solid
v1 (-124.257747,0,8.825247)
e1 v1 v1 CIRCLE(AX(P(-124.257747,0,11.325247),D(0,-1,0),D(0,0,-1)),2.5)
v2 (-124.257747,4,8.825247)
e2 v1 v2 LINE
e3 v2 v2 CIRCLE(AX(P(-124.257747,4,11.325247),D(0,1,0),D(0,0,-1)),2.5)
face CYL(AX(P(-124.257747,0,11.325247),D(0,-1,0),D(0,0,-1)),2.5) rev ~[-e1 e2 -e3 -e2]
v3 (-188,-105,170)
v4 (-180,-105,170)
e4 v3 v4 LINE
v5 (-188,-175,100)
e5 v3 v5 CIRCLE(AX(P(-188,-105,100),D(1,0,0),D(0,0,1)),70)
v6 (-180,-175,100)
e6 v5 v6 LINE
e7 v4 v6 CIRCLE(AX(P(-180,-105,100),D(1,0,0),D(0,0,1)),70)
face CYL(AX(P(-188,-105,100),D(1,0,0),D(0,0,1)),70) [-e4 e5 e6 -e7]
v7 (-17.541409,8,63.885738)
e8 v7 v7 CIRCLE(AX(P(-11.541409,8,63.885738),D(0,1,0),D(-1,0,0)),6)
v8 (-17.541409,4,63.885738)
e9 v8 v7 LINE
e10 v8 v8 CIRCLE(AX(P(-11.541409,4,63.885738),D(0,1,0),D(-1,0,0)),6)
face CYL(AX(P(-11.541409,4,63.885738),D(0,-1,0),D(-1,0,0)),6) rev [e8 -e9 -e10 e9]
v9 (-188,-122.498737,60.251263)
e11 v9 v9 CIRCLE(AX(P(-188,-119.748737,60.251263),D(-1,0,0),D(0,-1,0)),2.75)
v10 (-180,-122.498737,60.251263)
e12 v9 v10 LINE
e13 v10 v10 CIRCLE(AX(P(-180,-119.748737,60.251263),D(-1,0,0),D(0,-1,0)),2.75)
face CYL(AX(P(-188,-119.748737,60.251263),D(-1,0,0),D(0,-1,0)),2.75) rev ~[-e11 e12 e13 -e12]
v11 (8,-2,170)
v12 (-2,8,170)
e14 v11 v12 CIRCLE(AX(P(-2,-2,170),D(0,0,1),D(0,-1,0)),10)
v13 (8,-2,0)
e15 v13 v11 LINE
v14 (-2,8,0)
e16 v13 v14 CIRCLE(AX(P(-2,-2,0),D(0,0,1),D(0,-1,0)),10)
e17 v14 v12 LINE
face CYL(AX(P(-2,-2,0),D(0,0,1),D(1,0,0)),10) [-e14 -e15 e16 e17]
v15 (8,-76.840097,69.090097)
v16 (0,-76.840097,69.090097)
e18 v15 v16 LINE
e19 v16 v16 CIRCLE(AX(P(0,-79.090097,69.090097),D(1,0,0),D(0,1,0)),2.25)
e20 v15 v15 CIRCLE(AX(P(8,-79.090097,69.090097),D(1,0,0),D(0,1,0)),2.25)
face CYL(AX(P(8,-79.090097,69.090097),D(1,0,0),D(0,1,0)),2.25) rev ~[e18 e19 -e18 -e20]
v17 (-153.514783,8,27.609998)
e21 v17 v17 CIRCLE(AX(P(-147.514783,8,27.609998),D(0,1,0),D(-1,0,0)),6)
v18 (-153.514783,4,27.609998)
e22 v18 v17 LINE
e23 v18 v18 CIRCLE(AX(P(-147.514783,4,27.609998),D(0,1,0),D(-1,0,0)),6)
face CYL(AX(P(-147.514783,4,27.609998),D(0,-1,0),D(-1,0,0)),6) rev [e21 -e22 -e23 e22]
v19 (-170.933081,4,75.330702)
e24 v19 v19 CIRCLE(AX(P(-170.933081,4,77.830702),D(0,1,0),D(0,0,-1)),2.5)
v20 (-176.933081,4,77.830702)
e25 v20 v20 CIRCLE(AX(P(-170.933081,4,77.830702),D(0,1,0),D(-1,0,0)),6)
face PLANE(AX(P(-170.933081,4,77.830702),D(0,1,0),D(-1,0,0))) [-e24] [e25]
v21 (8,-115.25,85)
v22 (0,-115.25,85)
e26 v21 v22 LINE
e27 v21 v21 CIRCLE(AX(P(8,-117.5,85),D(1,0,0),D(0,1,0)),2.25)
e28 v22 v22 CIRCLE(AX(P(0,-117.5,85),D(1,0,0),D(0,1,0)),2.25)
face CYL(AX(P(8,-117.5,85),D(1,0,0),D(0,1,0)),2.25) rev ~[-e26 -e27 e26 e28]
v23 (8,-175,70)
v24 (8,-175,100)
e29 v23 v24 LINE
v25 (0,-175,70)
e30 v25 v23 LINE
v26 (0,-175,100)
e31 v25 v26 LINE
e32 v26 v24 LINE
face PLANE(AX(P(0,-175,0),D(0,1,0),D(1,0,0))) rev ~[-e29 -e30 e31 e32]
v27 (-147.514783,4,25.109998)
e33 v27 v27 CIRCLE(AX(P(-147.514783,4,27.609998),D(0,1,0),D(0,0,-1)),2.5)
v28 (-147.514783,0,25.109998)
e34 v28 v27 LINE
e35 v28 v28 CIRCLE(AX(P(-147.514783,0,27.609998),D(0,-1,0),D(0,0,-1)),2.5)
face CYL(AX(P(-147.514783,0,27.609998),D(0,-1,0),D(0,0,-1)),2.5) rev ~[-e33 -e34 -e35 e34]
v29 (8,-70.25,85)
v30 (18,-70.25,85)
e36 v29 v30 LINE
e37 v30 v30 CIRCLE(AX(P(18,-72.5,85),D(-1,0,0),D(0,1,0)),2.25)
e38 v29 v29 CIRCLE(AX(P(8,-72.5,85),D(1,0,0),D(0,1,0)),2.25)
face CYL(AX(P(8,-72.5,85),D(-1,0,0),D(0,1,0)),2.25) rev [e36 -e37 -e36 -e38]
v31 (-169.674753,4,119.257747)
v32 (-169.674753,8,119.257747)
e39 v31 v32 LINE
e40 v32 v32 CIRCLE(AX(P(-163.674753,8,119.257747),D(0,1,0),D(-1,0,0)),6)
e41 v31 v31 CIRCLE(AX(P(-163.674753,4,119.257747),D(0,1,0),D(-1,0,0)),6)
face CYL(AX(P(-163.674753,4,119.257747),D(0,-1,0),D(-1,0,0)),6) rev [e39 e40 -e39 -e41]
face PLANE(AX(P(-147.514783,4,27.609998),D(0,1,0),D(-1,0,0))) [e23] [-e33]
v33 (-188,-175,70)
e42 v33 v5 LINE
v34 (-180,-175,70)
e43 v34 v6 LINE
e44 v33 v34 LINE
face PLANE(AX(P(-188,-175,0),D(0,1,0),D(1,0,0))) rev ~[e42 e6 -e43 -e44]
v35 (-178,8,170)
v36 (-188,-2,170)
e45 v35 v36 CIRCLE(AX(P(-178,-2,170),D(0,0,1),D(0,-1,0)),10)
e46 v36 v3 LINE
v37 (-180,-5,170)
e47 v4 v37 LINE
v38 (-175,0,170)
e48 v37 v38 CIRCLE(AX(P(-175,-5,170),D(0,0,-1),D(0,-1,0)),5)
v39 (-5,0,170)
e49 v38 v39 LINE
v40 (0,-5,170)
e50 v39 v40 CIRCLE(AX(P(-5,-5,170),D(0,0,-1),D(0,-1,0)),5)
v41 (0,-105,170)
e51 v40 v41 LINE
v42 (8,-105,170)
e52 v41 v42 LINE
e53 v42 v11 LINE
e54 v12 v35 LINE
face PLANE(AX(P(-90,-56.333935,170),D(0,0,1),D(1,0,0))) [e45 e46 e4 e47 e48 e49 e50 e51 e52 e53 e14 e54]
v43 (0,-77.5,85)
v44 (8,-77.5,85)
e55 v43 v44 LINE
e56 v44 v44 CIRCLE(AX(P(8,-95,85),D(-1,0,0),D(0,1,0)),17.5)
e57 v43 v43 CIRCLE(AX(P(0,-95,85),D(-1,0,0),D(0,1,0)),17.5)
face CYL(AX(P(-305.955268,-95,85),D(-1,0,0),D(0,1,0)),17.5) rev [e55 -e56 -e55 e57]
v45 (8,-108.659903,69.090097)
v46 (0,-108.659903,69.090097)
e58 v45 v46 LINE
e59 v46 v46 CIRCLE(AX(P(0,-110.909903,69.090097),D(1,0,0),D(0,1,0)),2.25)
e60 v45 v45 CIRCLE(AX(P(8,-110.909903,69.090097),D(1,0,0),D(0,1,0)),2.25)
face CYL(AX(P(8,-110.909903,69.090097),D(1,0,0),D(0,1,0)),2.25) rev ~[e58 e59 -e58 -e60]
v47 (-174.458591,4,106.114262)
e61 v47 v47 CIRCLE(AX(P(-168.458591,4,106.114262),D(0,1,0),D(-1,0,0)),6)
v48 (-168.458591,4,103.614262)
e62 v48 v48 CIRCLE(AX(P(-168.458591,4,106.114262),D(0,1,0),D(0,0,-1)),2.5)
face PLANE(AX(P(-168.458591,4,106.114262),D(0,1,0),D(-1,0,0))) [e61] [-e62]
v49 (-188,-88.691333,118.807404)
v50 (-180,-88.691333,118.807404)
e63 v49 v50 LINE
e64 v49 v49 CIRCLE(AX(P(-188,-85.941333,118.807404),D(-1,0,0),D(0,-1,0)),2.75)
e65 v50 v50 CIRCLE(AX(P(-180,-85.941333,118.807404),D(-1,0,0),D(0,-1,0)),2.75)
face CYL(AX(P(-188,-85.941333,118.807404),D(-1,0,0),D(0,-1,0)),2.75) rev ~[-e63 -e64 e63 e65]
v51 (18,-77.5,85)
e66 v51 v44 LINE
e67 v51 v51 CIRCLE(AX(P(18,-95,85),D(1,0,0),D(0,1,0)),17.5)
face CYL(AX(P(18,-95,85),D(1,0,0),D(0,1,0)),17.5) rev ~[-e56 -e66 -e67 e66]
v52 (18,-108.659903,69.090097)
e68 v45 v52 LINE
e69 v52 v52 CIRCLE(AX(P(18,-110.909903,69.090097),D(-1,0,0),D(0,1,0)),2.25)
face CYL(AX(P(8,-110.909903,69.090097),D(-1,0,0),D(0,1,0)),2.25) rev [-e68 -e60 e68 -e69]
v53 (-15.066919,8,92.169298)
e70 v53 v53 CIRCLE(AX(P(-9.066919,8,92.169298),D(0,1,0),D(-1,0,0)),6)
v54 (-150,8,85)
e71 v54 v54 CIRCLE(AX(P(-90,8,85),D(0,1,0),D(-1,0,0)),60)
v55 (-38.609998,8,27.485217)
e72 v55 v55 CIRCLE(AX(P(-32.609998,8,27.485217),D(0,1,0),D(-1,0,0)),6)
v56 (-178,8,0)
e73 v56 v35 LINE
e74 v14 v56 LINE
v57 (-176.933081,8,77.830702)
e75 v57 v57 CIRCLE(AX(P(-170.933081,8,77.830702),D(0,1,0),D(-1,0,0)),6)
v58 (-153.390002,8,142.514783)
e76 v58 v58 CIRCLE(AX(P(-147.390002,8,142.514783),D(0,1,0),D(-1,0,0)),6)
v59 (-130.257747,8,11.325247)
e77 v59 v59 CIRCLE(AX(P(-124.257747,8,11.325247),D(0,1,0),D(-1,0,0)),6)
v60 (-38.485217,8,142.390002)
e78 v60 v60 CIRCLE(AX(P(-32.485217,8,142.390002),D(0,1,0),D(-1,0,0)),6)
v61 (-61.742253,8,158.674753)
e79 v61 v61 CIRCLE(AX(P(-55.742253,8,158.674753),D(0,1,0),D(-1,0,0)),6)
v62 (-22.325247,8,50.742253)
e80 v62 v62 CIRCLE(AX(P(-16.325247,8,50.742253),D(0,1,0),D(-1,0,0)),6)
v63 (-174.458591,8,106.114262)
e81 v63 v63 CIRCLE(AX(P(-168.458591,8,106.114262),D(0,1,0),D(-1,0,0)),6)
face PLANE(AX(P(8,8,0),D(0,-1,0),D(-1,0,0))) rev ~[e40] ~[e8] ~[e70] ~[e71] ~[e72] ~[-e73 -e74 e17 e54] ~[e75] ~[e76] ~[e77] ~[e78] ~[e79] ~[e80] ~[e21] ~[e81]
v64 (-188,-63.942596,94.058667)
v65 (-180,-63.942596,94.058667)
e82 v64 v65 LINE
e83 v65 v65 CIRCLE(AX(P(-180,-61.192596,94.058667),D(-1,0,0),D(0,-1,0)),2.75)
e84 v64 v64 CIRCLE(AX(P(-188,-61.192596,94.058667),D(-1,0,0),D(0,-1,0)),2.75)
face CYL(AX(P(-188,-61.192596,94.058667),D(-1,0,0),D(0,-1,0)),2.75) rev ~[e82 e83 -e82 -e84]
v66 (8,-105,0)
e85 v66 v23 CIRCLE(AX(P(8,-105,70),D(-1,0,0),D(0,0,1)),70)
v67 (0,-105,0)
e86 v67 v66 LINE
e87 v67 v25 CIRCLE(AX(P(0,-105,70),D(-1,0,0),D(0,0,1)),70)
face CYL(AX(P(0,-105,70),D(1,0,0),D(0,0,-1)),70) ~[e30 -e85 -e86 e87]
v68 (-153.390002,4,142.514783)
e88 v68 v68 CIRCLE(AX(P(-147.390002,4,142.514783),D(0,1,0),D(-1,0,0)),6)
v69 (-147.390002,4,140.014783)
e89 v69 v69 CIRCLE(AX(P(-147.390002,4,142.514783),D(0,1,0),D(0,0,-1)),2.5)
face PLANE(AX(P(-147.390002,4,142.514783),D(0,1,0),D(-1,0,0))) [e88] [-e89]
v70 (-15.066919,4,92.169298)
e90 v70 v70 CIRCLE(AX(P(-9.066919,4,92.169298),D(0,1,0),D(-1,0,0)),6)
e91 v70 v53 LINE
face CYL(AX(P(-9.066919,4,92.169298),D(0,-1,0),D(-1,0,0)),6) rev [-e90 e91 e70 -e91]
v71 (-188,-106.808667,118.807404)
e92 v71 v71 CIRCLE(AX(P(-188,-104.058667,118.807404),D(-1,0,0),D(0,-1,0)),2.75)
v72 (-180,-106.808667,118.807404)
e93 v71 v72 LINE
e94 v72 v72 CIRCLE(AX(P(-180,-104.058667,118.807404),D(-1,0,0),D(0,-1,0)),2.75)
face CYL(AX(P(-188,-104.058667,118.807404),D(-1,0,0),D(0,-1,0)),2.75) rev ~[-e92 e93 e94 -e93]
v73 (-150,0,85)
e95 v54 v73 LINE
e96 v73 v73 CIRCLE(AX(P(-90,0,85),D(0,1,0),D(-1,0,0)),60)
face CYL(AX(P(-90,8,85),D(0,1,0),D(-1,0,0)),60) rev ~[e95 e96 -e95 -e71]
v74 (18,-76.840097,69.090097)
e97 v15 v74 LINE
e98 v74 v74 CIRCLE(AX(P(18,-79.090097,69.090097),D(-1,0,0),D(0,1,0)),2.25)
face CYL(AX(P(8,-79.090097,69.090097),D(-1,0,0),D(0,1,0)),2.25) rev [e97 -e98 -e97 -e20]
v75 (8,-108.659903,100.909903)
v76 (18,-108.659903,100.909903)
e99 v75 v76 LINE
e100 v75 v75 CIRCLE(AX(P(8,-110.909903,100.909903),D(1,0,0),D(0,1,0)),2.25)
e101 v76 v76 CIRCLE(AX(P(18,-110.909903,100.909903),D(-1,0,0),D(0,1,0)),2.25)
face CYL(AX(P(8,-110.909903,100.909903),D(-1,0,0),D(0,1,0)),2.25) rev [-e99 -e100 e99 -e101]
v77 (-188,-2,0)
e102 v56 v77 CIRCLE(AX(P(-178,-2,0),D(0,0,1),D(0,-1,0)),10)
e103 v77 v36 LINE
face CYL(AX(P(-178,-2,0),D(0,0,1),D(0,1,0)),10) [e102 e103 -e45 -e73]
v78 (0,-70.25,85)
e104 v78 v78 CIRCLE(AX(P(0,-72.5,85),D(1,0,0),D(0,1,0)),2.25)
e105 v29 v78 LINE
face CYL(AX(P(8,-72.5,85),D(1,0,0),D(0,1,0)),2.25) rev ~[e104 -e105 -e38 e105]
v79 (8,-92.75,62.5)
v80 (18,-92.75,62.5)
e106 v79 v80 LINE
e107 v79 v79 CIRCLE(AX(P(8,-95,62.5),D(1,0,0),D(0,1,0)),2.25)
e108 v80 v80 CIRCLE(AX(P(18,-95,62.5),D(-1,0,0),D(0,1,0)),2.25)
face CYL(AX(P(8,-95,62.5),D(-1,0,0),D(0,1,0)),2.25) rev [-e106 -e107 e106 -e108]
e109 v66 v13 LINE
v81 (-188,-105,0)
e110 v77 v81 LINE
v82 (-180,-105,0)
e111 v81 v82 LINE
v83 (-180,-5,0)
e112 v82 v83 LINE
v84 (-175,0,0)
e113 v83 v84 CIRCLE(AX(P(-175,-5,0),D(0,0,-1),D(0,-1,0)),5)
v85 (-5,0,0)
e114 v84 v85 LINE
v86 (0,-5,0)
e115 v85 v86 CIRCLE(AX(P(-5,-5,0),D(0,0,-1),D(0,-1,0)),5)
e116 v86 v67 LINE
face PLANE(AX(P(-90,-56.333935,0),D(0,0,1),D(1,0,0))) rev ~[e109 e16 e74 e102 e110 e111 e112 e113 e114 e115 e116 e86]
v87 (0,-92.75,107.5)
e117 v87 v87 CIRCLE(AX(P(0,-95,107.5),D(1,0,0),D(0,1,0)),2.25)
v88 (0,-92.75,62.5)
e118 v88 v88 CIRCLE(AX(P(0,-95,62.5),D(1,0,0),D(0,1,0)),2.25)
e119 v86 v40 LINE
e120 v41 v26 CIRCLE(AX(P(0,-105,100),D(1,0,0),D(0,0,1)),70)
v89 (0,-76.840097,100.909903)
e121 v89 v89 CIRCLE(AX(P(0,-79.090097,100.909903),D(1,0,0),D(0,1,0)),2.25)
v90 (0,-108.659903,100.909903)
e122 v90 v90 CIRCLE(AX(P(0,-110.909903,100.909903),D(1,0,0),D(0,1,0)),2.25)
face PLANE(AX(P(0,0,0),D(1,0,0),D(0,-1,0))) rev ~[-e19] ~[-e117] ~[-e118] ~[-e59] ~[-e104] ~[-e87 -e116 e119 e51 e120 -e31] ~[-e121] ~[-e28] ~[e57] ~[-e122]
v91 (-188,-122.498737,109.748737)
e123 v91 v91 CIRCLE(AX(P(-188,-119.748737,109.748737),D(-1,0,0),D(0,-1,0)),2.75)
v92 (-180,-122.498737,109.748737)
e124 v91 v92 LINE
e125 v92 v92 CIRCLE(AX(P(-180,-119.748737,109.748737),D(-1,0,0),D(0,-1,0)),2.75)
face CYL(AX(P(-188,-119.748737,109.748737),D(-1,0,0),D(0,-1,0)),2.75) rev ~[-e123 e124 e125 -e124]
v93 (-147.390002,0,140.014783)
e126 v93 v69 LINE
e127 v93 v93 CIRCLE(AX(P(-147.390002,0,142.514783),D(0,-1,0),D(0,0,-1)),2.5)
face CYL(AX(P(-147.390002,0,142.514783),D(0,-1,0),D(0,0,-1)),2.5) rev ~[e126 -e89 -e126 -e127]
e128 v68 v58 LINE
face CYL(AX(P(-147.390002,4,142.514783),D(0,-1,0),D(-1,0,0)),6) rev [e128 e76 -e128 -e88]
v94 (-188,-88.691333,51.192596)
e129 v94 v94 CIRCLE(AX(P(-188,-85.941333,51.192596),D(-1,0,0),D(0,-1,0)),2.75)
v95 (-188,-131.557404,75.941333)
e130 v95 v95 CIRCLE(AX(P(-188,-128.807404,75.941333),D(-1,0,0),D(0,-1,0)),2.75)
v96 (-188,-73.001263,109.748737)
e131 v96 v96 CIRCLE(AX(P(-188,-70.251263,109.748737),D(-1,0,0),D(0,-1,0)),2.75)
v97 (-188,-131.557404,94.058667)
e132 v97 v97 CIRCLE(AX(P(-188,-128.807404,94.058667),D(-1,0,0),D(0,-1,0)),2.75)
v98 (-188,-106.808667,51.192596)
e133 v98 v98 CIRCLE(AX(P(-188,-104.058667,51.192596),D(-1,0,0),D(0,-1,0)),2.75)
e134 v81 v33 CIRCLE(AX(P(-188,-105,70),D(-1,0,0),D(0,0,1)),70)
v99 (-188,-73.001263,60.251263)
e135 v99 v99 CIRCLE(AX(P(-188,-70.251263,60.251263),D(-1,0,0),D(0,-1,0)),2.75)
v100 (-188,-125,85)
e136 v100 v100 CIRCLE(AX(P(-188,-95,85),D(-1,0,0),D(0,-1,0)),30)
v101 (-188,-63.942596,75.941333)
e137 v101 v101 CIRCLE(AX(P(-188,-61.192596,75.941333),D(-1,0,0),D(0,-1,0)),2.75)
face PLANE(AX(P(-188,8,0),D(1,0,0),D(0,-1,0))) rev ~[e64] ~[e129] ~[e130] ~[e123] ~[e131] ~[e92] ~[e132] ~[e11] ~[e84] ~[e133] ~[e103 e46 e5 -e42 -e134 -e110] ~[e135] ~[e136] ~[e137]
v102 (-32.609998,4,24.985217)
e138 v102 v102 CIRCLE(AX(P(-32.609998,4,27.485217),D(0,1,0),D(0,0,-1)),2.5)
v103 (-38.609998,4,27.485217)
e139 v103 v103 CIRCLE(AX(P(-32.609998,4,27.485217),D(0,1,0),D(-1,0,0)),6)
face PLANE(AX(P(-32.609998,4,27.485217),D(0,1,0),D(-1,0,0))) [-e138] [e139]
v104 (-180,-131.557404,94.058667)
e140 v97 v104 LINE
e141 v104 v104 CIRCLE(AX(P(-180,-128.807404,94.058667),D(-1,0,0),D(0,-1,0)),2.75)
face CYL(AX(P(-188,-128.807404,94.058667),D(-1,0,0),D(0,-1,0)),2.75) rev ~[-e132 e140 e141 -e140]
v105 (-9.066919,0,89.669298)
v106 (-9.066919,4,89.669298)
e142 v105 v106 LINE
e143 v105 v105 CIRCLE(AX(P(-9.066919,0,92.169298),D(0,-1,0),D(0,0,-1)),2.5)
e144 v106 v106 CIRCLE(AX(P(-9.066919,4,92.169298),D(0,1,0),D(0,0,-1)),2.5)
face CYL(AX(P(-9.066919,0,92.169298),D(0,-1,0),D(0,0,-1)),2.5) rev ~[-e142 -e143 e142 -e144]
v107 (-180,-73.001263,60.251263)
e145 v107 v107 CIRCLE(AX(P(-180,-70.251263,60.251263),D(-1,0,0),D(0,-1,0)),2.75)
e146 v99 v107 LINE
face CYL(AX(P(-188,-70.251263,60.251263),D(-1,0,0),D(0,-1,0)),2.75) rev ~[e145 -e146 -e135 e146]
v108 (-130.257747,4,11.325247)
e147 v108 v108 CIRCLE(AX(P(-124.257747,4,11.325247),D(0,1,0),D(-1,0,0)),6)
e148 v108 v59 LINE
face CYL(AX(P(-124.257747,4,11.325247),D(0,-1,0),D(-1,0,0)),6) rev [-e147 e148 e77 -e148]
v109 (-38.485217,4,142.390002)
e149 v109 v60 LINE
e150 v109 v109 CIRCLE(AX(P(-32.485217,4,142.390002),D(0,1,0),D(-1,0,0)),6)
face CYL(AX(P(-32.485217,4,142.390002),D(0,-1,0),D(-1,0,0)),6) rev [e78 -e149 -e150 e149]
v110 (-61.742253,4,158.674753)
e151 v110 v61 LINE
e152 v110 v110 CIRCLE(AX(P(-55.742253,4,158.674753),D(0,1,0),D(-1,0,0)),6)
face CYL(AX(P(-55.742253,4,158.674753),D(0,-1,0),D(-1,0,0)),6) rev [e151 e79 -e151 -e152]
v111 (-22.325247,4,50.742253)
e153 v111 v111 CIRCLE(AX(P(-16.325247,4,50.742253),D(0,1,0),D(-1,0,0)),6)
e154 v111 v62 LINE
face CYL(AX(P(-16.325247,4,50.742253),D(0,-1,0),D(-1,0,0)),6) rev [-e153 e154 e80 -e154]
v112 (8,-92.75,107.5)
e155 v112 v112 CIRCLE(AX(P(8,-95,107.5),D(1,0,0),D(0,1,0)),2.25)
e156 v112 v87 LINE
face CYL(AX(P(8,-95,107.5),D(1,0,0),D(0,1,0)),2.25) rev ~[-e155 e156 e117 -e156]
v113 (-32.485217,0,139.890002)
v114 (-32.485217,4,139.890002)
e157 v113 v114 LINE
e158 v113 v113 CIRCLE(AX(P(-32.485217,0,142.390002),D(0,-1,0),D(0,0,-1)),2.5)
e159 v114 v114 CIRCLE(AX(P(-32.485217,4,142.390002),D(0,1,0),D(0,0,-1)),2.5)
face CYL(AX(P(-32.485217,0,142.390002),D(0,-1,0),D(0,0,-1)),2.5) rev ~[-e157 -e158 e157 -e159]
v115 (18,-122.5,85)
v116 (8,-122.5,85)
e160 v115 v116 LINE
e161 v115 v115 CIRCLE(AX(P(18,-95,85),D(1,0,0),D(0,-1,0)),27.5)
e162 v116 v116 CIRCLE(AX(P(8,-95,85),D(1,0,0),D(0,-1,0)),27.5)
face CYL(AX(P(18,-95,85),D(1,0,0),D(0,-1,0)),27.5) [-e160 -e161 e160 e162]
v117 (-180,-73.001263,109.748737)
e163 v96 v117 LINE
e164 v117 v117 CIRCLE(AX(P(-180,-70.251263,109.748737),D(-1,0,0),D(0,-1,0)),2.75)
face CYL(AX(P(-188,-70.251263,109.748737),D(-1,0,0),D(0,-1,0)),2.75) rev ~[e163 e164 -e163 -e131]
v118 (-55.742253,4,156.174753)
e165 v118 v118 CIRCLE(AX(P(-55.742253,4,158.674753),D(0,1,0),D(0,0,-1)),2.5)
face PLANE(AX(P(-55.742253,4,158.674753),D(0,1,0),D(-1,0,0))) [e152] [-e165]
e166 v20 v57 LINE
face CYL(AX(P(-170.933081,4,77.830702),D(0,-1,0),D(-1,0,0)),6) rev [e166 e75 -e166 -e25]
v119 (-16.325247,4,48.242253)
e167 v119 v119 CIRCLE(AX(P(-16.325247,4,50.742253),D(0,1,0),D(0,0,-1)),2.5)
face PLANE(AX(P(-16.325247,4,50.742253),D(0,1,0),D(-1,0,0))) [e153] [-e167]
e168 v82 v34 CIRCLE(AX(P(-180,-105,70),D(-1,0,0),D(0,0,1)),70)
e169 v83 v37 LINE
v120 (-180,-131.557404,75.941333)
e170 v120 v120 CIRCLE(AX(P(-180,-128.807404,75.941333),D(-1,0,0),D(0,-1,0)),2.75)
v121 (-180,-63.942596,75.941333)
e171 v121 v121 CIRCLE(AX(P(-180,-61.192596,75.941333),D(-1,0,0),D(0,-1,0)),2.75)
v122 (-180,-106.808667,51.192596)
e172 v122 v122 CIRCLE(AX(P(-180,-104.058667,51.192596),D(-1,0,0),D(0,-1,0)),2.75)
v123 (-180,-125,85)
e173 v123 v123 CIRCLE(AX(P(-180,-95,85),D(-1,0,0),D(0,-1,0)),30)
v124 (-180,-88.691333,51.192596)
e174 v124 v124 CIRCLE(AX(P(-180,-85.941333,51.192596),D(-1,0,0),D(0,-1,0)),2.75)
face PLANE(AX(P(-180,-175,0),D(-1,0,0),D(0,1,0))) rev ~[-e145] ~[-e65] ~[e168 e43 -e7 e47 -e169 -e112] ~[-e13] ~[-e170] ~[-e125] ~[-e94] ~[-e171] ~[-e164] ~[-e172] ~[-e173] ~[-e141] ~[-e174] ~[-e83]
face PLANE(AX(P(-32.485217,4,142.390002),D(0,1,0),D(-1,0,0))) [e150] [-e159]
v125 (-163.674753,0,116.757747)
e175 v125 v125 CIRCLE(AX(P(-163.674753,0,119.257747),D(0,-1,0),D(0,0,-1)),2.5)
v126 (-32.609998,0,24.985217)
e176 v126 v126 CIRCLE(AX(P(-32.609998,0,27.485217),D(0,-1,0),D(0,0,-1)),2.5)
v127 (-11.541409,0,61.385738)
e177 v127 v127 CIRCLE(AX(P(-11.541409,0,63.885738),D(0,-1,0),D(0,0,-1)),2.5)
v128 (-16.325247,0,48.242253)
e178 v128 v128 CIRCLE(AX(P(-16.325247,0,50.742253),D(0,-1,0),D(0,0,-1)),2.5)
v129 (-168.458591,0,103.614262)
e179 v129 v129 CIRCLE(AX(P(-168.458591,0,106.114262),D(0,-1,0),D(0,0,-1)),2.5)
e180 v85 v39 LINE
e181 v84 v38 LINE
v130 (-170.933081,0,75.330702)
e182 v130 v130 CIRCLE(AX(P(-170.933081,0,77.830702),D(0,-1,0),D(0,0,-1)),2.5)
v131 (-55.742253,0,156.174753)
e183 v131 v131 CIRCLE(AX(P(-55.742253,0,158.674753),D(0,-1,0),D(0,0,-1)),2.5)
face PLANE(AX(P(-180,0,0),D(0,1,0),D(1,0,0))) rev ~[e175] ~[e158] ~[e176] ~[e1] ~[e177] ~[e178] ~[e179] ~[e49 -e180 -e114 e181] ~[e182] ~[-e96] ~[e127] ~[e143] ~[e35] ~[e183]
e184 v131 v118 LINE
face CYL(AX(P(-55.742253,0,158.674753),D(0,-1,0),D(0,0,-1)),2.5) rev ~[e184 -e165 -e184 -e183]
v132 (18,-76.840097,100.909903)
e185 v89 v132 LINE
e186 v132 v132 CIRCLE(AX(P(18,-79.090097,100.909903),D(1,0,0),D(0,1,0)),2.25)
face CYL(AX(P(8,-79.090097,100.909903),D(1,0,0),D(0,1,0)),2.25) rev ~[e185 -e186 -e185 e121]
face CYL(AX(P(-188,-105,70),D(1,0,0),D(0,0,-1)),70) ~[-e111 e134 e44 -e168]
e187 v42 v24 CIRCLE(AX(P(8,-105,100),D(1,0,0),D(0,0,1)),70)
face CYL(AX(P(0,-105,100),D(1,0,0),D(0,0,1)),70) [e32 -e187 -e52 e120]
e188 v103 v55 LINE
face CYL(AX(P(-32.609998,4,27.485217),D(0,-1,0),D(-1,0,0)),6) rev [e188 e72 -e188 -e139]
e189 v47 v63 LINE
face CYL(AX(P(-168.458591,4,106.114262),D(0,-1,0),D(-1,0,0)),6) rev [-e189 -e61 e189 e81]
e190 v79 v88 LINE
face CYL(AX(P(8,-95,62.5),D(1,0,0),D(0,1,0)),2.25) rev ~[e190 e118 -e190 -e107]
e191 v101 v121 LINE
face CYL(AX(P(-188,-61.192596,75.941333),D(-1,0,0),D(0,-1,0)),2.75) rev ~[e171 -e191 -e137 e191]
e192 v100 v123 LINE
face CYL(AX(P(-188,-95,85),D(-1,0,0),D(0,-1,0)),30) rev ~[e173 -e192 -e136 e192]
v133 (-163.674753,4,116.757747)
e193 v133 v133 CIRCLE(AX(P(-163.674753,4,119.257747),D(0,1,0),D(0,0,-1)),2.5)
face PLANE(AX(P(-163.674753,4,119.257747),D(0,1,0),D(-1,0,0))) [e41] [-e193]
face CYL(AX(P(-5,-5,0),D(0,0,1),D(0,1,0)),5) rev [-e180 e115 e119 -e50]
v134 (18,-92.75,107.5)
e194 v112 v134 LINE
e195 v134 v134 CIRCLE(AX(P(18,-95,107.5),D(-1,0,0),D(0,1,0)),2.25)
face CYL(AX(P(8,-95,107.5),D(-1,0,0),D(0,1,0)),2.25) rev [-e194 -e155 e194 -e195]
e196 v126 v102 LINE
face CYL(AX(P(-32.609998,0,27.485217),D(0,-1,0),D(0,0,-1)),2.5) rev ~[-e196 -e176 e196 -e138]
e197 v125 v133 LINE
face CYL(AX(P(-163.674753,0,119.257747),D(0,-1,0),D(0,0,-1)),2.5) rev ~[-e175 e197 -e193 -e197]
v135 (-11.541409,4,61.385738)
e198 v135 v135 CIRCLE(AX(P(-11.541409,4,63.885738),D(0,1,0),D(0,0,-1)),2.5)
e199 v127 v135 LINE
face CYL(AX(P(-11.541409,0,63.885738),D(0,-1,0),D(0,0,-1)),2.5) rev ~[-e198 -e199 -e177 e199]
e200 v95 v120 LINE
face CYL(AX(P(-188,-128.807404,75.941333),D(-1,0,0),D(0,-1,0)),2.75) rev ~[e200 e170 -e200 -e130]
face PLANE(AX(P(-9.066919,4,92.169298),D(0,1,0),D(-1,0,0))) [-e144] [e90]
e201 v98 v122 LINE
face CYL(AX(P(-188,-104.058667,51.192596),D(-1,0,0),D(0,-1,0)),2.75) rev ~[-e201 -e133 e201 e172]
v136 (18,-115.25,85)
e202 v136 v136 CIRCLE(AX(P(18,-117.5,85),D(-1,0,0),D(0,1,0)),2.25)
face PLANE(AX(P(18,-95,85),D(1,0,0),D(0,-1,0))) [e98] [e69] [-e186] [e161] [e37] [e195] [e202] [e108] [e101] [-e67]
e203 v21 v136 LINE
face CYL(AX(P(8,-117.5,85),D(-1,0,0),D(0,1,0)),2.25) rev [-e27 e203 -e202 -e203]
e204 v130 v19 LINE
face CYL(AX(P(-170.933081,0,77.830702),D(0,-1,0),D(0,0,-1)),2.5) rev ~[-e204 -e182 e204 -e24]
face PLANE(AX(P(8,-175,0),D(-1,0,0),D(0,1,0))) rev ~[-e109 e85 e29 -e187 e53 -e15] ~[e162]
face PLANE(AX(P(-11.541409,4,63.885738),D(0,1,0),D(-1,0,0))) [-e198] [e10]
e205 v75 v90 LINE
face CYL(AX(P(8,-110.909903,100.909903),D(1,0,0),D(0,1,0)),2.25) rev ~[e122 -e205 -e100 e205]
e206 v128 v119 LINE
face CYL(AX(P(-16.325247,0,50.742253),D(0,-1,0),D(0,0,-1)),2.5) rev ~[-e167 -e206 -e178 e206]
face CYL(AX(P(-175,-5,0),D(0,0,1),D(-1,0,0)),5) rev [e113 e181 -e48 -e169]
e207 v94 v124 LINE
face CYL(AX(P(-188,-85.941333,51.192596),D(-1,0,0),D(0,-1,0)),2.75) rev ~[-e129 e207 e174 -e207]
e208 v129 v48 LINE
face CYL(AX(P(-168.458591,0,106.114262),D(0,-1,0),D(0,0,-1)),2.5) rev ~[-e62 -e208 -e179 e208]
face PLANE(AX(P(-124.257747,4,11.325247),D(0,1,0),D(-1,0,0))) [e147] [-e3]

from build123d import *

# Parameters (mm, degrees)
EXTRUDE_1_DEPTH          = 170
SKETCH_2_R               = 60
CUT_EXTRUDE_1_DEPTH      = 180
CUT_EXTRUDE_2_DEPTH      = 313.955268369
CUT_EXTRUDE_2_DEPTH_BACK = 313.955268369
SKETCH_3_R               = 17.5
FILLET_1_R               = 70
FILLET_2_R               = 5
FILLET_3_R               = 10
SKETCH_6_R               = 30
CUT_EXTRUDE_6_DEPTH      = 39
SKETCH_10_R              = 2.5
CUT_EXTRUDE_10_DEPTH     = 10
CUT_EXTRUDE_START        = -4
SKETCH_11_R              = 6
SKETCH_11_R_2            = 2.5
CUT_EXTRUDE_11_DEPTH     = 4
SKETCH_12_R              = 2.75
CUT_EXTRUDE_12_DEPTH     = 10
EXTRUDE_START            = 10
SKETCH_14_R              = 27.5
SKETCH_14_R_2            = 17.5
EXTRUDE_2_DEPTH          = 10
SKETCH_13_R              = 2.25
CUT_EXTRUDE_13_DEPTH     = 15


with BuildPart() as part:
    # 草图1 → 凸台-拉伸1 (new body)
    with BuildSketch(Plane.XY):
        Polygon((-180, 0), (0, 0), (0, -175), (8, -175), (8, 8), (-180, 8), (-188, 8), (-188, -175), (-180, -175), align=None)
    extrude(amount=EXTRUDE_1_DEPTH)

    # 草图2 → 切除-拉伸1 (cut)
    with BuildSketch(Plane(origin=(0, 8, 0), x_dir=(1, 0, 0), z_dir=(0, 1, 0))):
        with Locations(Location((-90, -85, 0), (0, 0, 180))):
            Circle(SKETCH_2_R)
    extrude(amount=-CUT_EXTRUDE_1_DEPTH, mode=Mode.SUBTRACT)

    # 草图3 → 切除-拉伸2 (cut, two sides: drawn at the far end of the back side and taken through both)
    with BuildSketch(Plane(origin=(8, 0, 0), x_dir=(0, 0, -1), z_dir=(1, 0, 0)).offset(-CUT_EXTRUDE_2_DEPTH_BACK)):
        with Locations(Location((-85, -95, 0), (0, 0, 90))):
            Circle(SKETCH_3_R)
    extrude(amount=CUT_EXTRUDE_2_DEPTH + CUT_EXTRUDE_2_DEPTH_BACK, mode=Mode.SUBTRACT)

    # 圆角1
    fillet_1_edges = [part.edges().sort_by_distance(p)[0] for p in [
        (4, -175, 0),
        (4, -175, 170),
        (-184, -175, 170),
        (-184, -175, 0),
    ]]
    fillet(fillet_1_edges, radius=FILLET_1_R)

    # 圆角2
    fillet_2_edges = [part.edges().sort_by_distance(p)[0] for p in [
        (0, 0, 85),
        (-180, 0, 85),
    ]]
    fillet(fillet_2_edges, radius=FILLET_2_R)

    # 圆角3
    fillet_3_edges = [part.edges().sort_by_distance(p)[0] for p in [
        (-188, 8, 85),
        (8, 8, 85),
    ]]
    fillet(fillet_3_edges, radius=FILLET_3_R)

    # 草图6 → 切除-拉伸6 (cut)
    with BuildSketch(Plane.ZY.offset(188)):
        with Locations(Location((85, -95, 0), (0, 0, 270))):
            Circle(SKETCH_6_R)
    extrude(amount=-CUT_EXTRUDE_6_DEPTH, mode=Mode.SUBTRACT)

    # 草图10 → 切除-拉伸10 (cut)
    with BuildSketch(Plane.XZ):
        with Locations(Location((-55.742253069, 158.674753309, 0), (0, 0, 270))):
            Circle(SKETCH_10_R)
        with Locations(Location((-32.485217492, 142.390001682, 0), (0, 0, 270))):
            Circle(SKETCH_10_R)
        with Locations(Location((-9.066918551, 92.169297536, 0), (0, 0, 270))):
            Circle(SKETCH_10_R)
        with Locations(Location((-11.541409366, 63.885738097, 0), (0, 0, 270))):
            Circle(SKETCH_10_R)
        with Locations(Location((-16.325246691, 50.742253069, 0), (0, 0, 270))):
            Circle(SKETCH_10_R)
        with Locations(Location((-32.609998318, 27.485217492, 0), (0, 0, 270))):
            Circle(SKETCH_10_R)
        with Locations(Location((-124.257746931, 11.325246691, 0), (0, 0, 270))):
            Circle(SKETCH_10_R)
        with Locations(Location((-147.514782508, 27.609998318, 0), (0, 0, 270))):
            Circle(SKETCH_10_R)
        with Locations(Location((-170.933081449, 77.830702464, 0), (0, 0, 270))):
            Circle(SKETCH_10_R)
        with Locations(Location((-168.458590634, 106.114261903, 0), (0, 0, 270))):
            Circle(SKETCH_10_R)
        with Locations(Location((-163.674753309, 119.257746931, 0), (0, 0, 270))):
            Circle(SKETCH_10_R)
        with Locations(Location((-147.390001682, 142.514782508, 0), (0, 0, 270))):
            Circle(SKETCH_10_R)
    extrude(amount=-CUT_EXTRUDE_10_DEPTH, mode=Mode.SUBTRACT)

    # 草图11 → 切除-拉伸11 (cut)
    # profile 1 of 12: a face of its own
    with BuildSketch(Plane(origin=(0, 8, 0), x_dir=(1, 0, 0), z_dir=(0, 1, 0)).offset(CUT_EXTRUDE_START)):
        with Locations(Location((-32.485217492, -142.390001682, 0), (0, 0, 180))):
            Circle(SKETCH_11_R)
        with Locations(Location((-32.485217492, -142.390001682, 0), (0, 0, 90))):
            Circle(SKETCH_11_R_2, mode=Mode.SUBTRACT)
    # profile 2 of 12: a face of its own
    with BuildSketch(Plane(origin=(0, 8, 0), x_dir=(1, 0, 0), z_dir=(0, 1, 0)).offset(CUT_EXTRUDE_START)):
        with Locations(Location((-55.742253069, -158.674753309, 0), (0, 0, 180))):
            Circle(SKETCH_11_R)
        with Locations(Location((-55.742253069, -158.674753309, 0), (0, 0, 90))):
            Circle(SKETCH_11_R_2, mode=Mode.SUBTRACT)
    # profile 3 of 12: a face of its own
    with BuildSketch(Plane(origin=(0, 8, 0), x_dir=(1, 0, 0), z_dir=(0, 1, 0)).offset(CUT_EXTRUDE_START)):
        with Locations(Location((-147.390001682, -142.514782508, 0), (0, 0, 180))):
            Circle(SKETCH_11_R)
        with Locations(Location((-147.390001682, -142.514782508, 0), (0, 0, 90))):
            Circle(SKETCH_11_R_2, mode=Mode.SUBTRACT)
    # profile 4 of 12: a face of its own
    with BuildSketch(Plane(origin=(0, 8, 0), x_dir=(1, 0, 0), z_dir=(0, 1, 0)).offset(CUT_EXTRUDE_START)):
        with Locations(Location((-163.674753309, -119.257746931, 0), (0, 0, 180))):
            Circle(SKETCH_11_R)
        with Locations(Location((-163.674753309, -119.257746931, 0), (0, 0, 90))):
            Circle(SKETCH_11_R_2, mode=Mode.SUBTRACT)
    # profile 5 of 12: a face of its own
    with BuildSketch(Plane(origin=(0, 8, 0), x_dir=(1, 0, 0), z_dir=(0, 1, 0)).offset(CUT_EXTRUDE_START)):
        with Locations(Location((-168.458590634, -106.114261903, 0), (0, 0, 180))):
            Circle(SKETCH_11_R)
        with Locations(Location((-168.458590634, -106.114261903, 0), (0, 0, 90))):
            Circle(SKETCH_11_R_2, mode=Mode.SUBTRACT)
    # profile 6 of 12: a face of its own
    with BuildSketch(Plane(origin=(0, 8, 0), x_dir=(1, 0, 0), z_dir=(0, 1, 0)).offset(CUT_EXTRUDE_START)):
        with Locations(Location((-170.933081449, -77.830702464, 0), (0, 0, 180))):
            Circle(SKETCH_11_R)
        with Locations(Location((-170.933081449, -77.830702464, 0), (0, 0, 90))):
            Circle(SKETCH_11_R_2, mode=Mode.SUBTRACT)
    # profile 7 of 12: a face of its own
    with BuildSketch(Plane(origin=(0, 8, 0), x_dir=(1, 0, 0), z_dir=(0, 1, 0)).offset(CUT_EXTRUDE_START)):
        with Locations(Location((-147.514782508, -27.609998318, 0), (0, 0, 180))):
            Circle(SKETCH_11_R)
        with Locations(Location((-147.514782508, -27.609998318, 0), (0, 0, 90))):
            Circle(SKETCH_11_R_2, mode=Mode.SUBTRACT)
    # profile 8 of 12: a face of its own
    with BuildSketch(Plane(origin=(0, 8, 0), x_dir=(1, 0, 0), z_dir=(0, 1, 0)).offset(CUT_EXTRUDE_START)):
        with Locations(Location((-124.257746931, -11.325246691, 0), (0, 0, 180))):
            Circle(SKETCH_11_R)
        with Locations(Location((-124.257746931, -11.325246691, 0), (0, 0, 90))):
            Circle(SKETCH_11_R_2, mode=Mode.SUBTRACT)
    # profile 9 of 12: a face of its own
    with BuildSketch(Plane(origin=(0, 8, 0), x_dir=(1, 0, 0), z_dir=(0, 1, 0)).offset(CUT_EXTRUDE_START)):
        with Locations(Location((-32.609998318, -27.485217492, 0), (0, 0, 180))):
            Circle(SKETCH_11_R)
        with Locations(Location((-32.609998318, -27.485217492, 0), (0, 0, 90))):
            Circle(SKETCH_11_R_2, mode=Mode.SUBTRACT)
    # profile 10 of 12: a face of its own
    with BuildSketch(Plane(origin=(0, 8, 0), x_dir=(1, 0, 0), z_dir=(0, 1, 0)).offset(CUT_EXTRUDE_START)):
        with Locations(Location((-16.325246691, -50.742253069, 0), (0, 0, 180))):
            Circle(SKETCH_11_R)
        with Locations(Location((-16.325246691, -50.742253069, 0), (0, 0, 90))):
            Circle(SKETCH_11_R_2, mode=Mode.SUBTRACT)
    # profile 11 of 12: a face of its own
    with BuildSketch(Plane(origin=(0, 8, 0), x_dir=(1, 0, 0), z_dir=(0, 1, 0)).offset(CUT_EXTRUDE_START)):
        with Locations(Location((-11.541409366, -63.885738097, 0), (0, 0, 180))):
            Circle(SKETCH_11_R)
        with Locations(Location((-11.541409366, -63.885738097, 0), (0, 0, 90))):
            Circle(SKETCH_11_R_2, mode=Mode.SUBTRACT)
    # profile 12 of 12: a face of its own
    with BuildSketch(Plane(origin=(0, 8, 0), x_dir=(1, 0, 0), z_dir=(0, 1, 0)).offset(CUT_EXTRUDE_START)):
        with Locations(Location((-9.066918551, -92.169297536, 0), (0, 0, 180))):
            Circle(SKETCH_11_R)
        with Locations(Location((-9.066918551, -92.169297536, 0), (0, 0, 90))):
            Circle(SKETCH_11_R_2, mode=Mode.SUBTRACT)
    extrude(amount=CUT_EXTRUDE_11_DEPTH, mode=Mode.SUBTRACT)

    # 草图12 → 切除-拉伸12 (cut)
    with BuildSketch(Plane.ZY.offset(188)):
        with Locations(Location((94.058666579, -128.80740392, 0), (0, 0, 270))):
            Circle(SKETCH_12_R)
        with Locations(Location((75.941333421, -128.80740392, 0), (0, 0, 270))):
            Circle(SKETCH_12_R)
        with Locations(Location((60.251262658, -119.748737342, 0), (0, 0, 270))):
            Circle(SKETCH_12_R)
        with Locations(Location((51.19259608, -104.058666579, 0), (0, 0, 270))):
            Circle(SKETCH_12_R)
        with Locations(Location((51.19259608, -85.941333421, 0), (0, 0, 270))):
            Circle(SKETCH_12_R)
        with Locations(Location((60.251262658, -70.251262658, 0), (0, 0, 270))):
            Circle(SKETCH_12_R)
        with Locations(Location((75.941333421, -61.19259608, 0), (0, 0, 270))):
            Circle(SKETCH_12_R)
        with Locations(Location((94.058666579, -61.19259608, 0), (0, 0, 270))):
            Circle(SKETCH_12_R)
        with Locations(Location((109.748737342, -70.251262658, 0), (0, 0, 270))):
            Circle(SKETCH_12_R)
        with Locations(Location((118.80740392, -85.941333421, 0), (0, 0, 270))):
            Circle(SKETCH_12_R)
        with Locations(Location((118.80740392, -104.058666579, 0), (0, 0, 270))):
            Circle(SKETCH_12_R)
        with Locations(Location((109.748737342, -119.748737342, 0), (0, 0, 270))):
            Circle(SKETCH_12_R)
    extrude(amount=-CUT_EXTRUDE_12_DEPTH, mode=Mode.SUBTRACT)

    # 草图14 → 凸台-拉伸2 (add)
    with BuildSketch(Plane(origin=(8, 0, 0), x_dir=(0, 0, -1), z_dir=(1, 0, 0)).offset(EXTRUDE_START)):
        with Locations(Location((-85, -95, 0), (0, 0, 270))):
            Circle(SKETCH_14_R)
        with Locations(Location((-85, -95, 0), (0, 0, 90))):
            Circle(SKETCH_14_R_2, mode=Mode.SUBTRACT)
    extrude(amount=-EXTRUDE_2_DEPTH)

    # 草图13 → 切除-拉伸13 (cut, symmetric)
    with BuildSketch(Plane(origin=(8, 0, 0), x_dir=(0, 0, -1), z_dir=(1, 0, 0))):
        with Locations(Location((-85, -72.5, 0), (0, 0, 90))):
            Circle(SKETCH_13_R)
        with Locations(Location((-69.090097423, -79.090097423, 0), (0, 0, 90))):
            Circle(SKETCH_13_R)
        with Locations(Location((-62.5, -95, 0), (0, 0, 90))):
            Circle(SKETCH_13_R)
        with Locations(Location((-69.090097423, -110.909902577, 0), (0, 0, 90))):
            Circle(SKETCH_13_R)
        with Locations(Location((-85, -117.5, 0), (0, 0, 90))):
            Circle(SKETCH_13_R)
        with Locations(Location((-100.909902577, -110.909902577, 0), (0, 0, 90))):
            Circle(SKETCH_13_R)
        with Locations(Location((-107.5, -95, 0), (0, 0, 90))):
            Circle(SKETCH_13_R)
        with Locations(Location((-100.909902577, -79.090097423, 0), (0, 0, 90))):
            Circle(SKETCH_13_R)
    extrude(amount=CUT_EXTRUDE_13_DEPTH, both=True, mode=Mode.SUBTRACT)


solid = part.part
